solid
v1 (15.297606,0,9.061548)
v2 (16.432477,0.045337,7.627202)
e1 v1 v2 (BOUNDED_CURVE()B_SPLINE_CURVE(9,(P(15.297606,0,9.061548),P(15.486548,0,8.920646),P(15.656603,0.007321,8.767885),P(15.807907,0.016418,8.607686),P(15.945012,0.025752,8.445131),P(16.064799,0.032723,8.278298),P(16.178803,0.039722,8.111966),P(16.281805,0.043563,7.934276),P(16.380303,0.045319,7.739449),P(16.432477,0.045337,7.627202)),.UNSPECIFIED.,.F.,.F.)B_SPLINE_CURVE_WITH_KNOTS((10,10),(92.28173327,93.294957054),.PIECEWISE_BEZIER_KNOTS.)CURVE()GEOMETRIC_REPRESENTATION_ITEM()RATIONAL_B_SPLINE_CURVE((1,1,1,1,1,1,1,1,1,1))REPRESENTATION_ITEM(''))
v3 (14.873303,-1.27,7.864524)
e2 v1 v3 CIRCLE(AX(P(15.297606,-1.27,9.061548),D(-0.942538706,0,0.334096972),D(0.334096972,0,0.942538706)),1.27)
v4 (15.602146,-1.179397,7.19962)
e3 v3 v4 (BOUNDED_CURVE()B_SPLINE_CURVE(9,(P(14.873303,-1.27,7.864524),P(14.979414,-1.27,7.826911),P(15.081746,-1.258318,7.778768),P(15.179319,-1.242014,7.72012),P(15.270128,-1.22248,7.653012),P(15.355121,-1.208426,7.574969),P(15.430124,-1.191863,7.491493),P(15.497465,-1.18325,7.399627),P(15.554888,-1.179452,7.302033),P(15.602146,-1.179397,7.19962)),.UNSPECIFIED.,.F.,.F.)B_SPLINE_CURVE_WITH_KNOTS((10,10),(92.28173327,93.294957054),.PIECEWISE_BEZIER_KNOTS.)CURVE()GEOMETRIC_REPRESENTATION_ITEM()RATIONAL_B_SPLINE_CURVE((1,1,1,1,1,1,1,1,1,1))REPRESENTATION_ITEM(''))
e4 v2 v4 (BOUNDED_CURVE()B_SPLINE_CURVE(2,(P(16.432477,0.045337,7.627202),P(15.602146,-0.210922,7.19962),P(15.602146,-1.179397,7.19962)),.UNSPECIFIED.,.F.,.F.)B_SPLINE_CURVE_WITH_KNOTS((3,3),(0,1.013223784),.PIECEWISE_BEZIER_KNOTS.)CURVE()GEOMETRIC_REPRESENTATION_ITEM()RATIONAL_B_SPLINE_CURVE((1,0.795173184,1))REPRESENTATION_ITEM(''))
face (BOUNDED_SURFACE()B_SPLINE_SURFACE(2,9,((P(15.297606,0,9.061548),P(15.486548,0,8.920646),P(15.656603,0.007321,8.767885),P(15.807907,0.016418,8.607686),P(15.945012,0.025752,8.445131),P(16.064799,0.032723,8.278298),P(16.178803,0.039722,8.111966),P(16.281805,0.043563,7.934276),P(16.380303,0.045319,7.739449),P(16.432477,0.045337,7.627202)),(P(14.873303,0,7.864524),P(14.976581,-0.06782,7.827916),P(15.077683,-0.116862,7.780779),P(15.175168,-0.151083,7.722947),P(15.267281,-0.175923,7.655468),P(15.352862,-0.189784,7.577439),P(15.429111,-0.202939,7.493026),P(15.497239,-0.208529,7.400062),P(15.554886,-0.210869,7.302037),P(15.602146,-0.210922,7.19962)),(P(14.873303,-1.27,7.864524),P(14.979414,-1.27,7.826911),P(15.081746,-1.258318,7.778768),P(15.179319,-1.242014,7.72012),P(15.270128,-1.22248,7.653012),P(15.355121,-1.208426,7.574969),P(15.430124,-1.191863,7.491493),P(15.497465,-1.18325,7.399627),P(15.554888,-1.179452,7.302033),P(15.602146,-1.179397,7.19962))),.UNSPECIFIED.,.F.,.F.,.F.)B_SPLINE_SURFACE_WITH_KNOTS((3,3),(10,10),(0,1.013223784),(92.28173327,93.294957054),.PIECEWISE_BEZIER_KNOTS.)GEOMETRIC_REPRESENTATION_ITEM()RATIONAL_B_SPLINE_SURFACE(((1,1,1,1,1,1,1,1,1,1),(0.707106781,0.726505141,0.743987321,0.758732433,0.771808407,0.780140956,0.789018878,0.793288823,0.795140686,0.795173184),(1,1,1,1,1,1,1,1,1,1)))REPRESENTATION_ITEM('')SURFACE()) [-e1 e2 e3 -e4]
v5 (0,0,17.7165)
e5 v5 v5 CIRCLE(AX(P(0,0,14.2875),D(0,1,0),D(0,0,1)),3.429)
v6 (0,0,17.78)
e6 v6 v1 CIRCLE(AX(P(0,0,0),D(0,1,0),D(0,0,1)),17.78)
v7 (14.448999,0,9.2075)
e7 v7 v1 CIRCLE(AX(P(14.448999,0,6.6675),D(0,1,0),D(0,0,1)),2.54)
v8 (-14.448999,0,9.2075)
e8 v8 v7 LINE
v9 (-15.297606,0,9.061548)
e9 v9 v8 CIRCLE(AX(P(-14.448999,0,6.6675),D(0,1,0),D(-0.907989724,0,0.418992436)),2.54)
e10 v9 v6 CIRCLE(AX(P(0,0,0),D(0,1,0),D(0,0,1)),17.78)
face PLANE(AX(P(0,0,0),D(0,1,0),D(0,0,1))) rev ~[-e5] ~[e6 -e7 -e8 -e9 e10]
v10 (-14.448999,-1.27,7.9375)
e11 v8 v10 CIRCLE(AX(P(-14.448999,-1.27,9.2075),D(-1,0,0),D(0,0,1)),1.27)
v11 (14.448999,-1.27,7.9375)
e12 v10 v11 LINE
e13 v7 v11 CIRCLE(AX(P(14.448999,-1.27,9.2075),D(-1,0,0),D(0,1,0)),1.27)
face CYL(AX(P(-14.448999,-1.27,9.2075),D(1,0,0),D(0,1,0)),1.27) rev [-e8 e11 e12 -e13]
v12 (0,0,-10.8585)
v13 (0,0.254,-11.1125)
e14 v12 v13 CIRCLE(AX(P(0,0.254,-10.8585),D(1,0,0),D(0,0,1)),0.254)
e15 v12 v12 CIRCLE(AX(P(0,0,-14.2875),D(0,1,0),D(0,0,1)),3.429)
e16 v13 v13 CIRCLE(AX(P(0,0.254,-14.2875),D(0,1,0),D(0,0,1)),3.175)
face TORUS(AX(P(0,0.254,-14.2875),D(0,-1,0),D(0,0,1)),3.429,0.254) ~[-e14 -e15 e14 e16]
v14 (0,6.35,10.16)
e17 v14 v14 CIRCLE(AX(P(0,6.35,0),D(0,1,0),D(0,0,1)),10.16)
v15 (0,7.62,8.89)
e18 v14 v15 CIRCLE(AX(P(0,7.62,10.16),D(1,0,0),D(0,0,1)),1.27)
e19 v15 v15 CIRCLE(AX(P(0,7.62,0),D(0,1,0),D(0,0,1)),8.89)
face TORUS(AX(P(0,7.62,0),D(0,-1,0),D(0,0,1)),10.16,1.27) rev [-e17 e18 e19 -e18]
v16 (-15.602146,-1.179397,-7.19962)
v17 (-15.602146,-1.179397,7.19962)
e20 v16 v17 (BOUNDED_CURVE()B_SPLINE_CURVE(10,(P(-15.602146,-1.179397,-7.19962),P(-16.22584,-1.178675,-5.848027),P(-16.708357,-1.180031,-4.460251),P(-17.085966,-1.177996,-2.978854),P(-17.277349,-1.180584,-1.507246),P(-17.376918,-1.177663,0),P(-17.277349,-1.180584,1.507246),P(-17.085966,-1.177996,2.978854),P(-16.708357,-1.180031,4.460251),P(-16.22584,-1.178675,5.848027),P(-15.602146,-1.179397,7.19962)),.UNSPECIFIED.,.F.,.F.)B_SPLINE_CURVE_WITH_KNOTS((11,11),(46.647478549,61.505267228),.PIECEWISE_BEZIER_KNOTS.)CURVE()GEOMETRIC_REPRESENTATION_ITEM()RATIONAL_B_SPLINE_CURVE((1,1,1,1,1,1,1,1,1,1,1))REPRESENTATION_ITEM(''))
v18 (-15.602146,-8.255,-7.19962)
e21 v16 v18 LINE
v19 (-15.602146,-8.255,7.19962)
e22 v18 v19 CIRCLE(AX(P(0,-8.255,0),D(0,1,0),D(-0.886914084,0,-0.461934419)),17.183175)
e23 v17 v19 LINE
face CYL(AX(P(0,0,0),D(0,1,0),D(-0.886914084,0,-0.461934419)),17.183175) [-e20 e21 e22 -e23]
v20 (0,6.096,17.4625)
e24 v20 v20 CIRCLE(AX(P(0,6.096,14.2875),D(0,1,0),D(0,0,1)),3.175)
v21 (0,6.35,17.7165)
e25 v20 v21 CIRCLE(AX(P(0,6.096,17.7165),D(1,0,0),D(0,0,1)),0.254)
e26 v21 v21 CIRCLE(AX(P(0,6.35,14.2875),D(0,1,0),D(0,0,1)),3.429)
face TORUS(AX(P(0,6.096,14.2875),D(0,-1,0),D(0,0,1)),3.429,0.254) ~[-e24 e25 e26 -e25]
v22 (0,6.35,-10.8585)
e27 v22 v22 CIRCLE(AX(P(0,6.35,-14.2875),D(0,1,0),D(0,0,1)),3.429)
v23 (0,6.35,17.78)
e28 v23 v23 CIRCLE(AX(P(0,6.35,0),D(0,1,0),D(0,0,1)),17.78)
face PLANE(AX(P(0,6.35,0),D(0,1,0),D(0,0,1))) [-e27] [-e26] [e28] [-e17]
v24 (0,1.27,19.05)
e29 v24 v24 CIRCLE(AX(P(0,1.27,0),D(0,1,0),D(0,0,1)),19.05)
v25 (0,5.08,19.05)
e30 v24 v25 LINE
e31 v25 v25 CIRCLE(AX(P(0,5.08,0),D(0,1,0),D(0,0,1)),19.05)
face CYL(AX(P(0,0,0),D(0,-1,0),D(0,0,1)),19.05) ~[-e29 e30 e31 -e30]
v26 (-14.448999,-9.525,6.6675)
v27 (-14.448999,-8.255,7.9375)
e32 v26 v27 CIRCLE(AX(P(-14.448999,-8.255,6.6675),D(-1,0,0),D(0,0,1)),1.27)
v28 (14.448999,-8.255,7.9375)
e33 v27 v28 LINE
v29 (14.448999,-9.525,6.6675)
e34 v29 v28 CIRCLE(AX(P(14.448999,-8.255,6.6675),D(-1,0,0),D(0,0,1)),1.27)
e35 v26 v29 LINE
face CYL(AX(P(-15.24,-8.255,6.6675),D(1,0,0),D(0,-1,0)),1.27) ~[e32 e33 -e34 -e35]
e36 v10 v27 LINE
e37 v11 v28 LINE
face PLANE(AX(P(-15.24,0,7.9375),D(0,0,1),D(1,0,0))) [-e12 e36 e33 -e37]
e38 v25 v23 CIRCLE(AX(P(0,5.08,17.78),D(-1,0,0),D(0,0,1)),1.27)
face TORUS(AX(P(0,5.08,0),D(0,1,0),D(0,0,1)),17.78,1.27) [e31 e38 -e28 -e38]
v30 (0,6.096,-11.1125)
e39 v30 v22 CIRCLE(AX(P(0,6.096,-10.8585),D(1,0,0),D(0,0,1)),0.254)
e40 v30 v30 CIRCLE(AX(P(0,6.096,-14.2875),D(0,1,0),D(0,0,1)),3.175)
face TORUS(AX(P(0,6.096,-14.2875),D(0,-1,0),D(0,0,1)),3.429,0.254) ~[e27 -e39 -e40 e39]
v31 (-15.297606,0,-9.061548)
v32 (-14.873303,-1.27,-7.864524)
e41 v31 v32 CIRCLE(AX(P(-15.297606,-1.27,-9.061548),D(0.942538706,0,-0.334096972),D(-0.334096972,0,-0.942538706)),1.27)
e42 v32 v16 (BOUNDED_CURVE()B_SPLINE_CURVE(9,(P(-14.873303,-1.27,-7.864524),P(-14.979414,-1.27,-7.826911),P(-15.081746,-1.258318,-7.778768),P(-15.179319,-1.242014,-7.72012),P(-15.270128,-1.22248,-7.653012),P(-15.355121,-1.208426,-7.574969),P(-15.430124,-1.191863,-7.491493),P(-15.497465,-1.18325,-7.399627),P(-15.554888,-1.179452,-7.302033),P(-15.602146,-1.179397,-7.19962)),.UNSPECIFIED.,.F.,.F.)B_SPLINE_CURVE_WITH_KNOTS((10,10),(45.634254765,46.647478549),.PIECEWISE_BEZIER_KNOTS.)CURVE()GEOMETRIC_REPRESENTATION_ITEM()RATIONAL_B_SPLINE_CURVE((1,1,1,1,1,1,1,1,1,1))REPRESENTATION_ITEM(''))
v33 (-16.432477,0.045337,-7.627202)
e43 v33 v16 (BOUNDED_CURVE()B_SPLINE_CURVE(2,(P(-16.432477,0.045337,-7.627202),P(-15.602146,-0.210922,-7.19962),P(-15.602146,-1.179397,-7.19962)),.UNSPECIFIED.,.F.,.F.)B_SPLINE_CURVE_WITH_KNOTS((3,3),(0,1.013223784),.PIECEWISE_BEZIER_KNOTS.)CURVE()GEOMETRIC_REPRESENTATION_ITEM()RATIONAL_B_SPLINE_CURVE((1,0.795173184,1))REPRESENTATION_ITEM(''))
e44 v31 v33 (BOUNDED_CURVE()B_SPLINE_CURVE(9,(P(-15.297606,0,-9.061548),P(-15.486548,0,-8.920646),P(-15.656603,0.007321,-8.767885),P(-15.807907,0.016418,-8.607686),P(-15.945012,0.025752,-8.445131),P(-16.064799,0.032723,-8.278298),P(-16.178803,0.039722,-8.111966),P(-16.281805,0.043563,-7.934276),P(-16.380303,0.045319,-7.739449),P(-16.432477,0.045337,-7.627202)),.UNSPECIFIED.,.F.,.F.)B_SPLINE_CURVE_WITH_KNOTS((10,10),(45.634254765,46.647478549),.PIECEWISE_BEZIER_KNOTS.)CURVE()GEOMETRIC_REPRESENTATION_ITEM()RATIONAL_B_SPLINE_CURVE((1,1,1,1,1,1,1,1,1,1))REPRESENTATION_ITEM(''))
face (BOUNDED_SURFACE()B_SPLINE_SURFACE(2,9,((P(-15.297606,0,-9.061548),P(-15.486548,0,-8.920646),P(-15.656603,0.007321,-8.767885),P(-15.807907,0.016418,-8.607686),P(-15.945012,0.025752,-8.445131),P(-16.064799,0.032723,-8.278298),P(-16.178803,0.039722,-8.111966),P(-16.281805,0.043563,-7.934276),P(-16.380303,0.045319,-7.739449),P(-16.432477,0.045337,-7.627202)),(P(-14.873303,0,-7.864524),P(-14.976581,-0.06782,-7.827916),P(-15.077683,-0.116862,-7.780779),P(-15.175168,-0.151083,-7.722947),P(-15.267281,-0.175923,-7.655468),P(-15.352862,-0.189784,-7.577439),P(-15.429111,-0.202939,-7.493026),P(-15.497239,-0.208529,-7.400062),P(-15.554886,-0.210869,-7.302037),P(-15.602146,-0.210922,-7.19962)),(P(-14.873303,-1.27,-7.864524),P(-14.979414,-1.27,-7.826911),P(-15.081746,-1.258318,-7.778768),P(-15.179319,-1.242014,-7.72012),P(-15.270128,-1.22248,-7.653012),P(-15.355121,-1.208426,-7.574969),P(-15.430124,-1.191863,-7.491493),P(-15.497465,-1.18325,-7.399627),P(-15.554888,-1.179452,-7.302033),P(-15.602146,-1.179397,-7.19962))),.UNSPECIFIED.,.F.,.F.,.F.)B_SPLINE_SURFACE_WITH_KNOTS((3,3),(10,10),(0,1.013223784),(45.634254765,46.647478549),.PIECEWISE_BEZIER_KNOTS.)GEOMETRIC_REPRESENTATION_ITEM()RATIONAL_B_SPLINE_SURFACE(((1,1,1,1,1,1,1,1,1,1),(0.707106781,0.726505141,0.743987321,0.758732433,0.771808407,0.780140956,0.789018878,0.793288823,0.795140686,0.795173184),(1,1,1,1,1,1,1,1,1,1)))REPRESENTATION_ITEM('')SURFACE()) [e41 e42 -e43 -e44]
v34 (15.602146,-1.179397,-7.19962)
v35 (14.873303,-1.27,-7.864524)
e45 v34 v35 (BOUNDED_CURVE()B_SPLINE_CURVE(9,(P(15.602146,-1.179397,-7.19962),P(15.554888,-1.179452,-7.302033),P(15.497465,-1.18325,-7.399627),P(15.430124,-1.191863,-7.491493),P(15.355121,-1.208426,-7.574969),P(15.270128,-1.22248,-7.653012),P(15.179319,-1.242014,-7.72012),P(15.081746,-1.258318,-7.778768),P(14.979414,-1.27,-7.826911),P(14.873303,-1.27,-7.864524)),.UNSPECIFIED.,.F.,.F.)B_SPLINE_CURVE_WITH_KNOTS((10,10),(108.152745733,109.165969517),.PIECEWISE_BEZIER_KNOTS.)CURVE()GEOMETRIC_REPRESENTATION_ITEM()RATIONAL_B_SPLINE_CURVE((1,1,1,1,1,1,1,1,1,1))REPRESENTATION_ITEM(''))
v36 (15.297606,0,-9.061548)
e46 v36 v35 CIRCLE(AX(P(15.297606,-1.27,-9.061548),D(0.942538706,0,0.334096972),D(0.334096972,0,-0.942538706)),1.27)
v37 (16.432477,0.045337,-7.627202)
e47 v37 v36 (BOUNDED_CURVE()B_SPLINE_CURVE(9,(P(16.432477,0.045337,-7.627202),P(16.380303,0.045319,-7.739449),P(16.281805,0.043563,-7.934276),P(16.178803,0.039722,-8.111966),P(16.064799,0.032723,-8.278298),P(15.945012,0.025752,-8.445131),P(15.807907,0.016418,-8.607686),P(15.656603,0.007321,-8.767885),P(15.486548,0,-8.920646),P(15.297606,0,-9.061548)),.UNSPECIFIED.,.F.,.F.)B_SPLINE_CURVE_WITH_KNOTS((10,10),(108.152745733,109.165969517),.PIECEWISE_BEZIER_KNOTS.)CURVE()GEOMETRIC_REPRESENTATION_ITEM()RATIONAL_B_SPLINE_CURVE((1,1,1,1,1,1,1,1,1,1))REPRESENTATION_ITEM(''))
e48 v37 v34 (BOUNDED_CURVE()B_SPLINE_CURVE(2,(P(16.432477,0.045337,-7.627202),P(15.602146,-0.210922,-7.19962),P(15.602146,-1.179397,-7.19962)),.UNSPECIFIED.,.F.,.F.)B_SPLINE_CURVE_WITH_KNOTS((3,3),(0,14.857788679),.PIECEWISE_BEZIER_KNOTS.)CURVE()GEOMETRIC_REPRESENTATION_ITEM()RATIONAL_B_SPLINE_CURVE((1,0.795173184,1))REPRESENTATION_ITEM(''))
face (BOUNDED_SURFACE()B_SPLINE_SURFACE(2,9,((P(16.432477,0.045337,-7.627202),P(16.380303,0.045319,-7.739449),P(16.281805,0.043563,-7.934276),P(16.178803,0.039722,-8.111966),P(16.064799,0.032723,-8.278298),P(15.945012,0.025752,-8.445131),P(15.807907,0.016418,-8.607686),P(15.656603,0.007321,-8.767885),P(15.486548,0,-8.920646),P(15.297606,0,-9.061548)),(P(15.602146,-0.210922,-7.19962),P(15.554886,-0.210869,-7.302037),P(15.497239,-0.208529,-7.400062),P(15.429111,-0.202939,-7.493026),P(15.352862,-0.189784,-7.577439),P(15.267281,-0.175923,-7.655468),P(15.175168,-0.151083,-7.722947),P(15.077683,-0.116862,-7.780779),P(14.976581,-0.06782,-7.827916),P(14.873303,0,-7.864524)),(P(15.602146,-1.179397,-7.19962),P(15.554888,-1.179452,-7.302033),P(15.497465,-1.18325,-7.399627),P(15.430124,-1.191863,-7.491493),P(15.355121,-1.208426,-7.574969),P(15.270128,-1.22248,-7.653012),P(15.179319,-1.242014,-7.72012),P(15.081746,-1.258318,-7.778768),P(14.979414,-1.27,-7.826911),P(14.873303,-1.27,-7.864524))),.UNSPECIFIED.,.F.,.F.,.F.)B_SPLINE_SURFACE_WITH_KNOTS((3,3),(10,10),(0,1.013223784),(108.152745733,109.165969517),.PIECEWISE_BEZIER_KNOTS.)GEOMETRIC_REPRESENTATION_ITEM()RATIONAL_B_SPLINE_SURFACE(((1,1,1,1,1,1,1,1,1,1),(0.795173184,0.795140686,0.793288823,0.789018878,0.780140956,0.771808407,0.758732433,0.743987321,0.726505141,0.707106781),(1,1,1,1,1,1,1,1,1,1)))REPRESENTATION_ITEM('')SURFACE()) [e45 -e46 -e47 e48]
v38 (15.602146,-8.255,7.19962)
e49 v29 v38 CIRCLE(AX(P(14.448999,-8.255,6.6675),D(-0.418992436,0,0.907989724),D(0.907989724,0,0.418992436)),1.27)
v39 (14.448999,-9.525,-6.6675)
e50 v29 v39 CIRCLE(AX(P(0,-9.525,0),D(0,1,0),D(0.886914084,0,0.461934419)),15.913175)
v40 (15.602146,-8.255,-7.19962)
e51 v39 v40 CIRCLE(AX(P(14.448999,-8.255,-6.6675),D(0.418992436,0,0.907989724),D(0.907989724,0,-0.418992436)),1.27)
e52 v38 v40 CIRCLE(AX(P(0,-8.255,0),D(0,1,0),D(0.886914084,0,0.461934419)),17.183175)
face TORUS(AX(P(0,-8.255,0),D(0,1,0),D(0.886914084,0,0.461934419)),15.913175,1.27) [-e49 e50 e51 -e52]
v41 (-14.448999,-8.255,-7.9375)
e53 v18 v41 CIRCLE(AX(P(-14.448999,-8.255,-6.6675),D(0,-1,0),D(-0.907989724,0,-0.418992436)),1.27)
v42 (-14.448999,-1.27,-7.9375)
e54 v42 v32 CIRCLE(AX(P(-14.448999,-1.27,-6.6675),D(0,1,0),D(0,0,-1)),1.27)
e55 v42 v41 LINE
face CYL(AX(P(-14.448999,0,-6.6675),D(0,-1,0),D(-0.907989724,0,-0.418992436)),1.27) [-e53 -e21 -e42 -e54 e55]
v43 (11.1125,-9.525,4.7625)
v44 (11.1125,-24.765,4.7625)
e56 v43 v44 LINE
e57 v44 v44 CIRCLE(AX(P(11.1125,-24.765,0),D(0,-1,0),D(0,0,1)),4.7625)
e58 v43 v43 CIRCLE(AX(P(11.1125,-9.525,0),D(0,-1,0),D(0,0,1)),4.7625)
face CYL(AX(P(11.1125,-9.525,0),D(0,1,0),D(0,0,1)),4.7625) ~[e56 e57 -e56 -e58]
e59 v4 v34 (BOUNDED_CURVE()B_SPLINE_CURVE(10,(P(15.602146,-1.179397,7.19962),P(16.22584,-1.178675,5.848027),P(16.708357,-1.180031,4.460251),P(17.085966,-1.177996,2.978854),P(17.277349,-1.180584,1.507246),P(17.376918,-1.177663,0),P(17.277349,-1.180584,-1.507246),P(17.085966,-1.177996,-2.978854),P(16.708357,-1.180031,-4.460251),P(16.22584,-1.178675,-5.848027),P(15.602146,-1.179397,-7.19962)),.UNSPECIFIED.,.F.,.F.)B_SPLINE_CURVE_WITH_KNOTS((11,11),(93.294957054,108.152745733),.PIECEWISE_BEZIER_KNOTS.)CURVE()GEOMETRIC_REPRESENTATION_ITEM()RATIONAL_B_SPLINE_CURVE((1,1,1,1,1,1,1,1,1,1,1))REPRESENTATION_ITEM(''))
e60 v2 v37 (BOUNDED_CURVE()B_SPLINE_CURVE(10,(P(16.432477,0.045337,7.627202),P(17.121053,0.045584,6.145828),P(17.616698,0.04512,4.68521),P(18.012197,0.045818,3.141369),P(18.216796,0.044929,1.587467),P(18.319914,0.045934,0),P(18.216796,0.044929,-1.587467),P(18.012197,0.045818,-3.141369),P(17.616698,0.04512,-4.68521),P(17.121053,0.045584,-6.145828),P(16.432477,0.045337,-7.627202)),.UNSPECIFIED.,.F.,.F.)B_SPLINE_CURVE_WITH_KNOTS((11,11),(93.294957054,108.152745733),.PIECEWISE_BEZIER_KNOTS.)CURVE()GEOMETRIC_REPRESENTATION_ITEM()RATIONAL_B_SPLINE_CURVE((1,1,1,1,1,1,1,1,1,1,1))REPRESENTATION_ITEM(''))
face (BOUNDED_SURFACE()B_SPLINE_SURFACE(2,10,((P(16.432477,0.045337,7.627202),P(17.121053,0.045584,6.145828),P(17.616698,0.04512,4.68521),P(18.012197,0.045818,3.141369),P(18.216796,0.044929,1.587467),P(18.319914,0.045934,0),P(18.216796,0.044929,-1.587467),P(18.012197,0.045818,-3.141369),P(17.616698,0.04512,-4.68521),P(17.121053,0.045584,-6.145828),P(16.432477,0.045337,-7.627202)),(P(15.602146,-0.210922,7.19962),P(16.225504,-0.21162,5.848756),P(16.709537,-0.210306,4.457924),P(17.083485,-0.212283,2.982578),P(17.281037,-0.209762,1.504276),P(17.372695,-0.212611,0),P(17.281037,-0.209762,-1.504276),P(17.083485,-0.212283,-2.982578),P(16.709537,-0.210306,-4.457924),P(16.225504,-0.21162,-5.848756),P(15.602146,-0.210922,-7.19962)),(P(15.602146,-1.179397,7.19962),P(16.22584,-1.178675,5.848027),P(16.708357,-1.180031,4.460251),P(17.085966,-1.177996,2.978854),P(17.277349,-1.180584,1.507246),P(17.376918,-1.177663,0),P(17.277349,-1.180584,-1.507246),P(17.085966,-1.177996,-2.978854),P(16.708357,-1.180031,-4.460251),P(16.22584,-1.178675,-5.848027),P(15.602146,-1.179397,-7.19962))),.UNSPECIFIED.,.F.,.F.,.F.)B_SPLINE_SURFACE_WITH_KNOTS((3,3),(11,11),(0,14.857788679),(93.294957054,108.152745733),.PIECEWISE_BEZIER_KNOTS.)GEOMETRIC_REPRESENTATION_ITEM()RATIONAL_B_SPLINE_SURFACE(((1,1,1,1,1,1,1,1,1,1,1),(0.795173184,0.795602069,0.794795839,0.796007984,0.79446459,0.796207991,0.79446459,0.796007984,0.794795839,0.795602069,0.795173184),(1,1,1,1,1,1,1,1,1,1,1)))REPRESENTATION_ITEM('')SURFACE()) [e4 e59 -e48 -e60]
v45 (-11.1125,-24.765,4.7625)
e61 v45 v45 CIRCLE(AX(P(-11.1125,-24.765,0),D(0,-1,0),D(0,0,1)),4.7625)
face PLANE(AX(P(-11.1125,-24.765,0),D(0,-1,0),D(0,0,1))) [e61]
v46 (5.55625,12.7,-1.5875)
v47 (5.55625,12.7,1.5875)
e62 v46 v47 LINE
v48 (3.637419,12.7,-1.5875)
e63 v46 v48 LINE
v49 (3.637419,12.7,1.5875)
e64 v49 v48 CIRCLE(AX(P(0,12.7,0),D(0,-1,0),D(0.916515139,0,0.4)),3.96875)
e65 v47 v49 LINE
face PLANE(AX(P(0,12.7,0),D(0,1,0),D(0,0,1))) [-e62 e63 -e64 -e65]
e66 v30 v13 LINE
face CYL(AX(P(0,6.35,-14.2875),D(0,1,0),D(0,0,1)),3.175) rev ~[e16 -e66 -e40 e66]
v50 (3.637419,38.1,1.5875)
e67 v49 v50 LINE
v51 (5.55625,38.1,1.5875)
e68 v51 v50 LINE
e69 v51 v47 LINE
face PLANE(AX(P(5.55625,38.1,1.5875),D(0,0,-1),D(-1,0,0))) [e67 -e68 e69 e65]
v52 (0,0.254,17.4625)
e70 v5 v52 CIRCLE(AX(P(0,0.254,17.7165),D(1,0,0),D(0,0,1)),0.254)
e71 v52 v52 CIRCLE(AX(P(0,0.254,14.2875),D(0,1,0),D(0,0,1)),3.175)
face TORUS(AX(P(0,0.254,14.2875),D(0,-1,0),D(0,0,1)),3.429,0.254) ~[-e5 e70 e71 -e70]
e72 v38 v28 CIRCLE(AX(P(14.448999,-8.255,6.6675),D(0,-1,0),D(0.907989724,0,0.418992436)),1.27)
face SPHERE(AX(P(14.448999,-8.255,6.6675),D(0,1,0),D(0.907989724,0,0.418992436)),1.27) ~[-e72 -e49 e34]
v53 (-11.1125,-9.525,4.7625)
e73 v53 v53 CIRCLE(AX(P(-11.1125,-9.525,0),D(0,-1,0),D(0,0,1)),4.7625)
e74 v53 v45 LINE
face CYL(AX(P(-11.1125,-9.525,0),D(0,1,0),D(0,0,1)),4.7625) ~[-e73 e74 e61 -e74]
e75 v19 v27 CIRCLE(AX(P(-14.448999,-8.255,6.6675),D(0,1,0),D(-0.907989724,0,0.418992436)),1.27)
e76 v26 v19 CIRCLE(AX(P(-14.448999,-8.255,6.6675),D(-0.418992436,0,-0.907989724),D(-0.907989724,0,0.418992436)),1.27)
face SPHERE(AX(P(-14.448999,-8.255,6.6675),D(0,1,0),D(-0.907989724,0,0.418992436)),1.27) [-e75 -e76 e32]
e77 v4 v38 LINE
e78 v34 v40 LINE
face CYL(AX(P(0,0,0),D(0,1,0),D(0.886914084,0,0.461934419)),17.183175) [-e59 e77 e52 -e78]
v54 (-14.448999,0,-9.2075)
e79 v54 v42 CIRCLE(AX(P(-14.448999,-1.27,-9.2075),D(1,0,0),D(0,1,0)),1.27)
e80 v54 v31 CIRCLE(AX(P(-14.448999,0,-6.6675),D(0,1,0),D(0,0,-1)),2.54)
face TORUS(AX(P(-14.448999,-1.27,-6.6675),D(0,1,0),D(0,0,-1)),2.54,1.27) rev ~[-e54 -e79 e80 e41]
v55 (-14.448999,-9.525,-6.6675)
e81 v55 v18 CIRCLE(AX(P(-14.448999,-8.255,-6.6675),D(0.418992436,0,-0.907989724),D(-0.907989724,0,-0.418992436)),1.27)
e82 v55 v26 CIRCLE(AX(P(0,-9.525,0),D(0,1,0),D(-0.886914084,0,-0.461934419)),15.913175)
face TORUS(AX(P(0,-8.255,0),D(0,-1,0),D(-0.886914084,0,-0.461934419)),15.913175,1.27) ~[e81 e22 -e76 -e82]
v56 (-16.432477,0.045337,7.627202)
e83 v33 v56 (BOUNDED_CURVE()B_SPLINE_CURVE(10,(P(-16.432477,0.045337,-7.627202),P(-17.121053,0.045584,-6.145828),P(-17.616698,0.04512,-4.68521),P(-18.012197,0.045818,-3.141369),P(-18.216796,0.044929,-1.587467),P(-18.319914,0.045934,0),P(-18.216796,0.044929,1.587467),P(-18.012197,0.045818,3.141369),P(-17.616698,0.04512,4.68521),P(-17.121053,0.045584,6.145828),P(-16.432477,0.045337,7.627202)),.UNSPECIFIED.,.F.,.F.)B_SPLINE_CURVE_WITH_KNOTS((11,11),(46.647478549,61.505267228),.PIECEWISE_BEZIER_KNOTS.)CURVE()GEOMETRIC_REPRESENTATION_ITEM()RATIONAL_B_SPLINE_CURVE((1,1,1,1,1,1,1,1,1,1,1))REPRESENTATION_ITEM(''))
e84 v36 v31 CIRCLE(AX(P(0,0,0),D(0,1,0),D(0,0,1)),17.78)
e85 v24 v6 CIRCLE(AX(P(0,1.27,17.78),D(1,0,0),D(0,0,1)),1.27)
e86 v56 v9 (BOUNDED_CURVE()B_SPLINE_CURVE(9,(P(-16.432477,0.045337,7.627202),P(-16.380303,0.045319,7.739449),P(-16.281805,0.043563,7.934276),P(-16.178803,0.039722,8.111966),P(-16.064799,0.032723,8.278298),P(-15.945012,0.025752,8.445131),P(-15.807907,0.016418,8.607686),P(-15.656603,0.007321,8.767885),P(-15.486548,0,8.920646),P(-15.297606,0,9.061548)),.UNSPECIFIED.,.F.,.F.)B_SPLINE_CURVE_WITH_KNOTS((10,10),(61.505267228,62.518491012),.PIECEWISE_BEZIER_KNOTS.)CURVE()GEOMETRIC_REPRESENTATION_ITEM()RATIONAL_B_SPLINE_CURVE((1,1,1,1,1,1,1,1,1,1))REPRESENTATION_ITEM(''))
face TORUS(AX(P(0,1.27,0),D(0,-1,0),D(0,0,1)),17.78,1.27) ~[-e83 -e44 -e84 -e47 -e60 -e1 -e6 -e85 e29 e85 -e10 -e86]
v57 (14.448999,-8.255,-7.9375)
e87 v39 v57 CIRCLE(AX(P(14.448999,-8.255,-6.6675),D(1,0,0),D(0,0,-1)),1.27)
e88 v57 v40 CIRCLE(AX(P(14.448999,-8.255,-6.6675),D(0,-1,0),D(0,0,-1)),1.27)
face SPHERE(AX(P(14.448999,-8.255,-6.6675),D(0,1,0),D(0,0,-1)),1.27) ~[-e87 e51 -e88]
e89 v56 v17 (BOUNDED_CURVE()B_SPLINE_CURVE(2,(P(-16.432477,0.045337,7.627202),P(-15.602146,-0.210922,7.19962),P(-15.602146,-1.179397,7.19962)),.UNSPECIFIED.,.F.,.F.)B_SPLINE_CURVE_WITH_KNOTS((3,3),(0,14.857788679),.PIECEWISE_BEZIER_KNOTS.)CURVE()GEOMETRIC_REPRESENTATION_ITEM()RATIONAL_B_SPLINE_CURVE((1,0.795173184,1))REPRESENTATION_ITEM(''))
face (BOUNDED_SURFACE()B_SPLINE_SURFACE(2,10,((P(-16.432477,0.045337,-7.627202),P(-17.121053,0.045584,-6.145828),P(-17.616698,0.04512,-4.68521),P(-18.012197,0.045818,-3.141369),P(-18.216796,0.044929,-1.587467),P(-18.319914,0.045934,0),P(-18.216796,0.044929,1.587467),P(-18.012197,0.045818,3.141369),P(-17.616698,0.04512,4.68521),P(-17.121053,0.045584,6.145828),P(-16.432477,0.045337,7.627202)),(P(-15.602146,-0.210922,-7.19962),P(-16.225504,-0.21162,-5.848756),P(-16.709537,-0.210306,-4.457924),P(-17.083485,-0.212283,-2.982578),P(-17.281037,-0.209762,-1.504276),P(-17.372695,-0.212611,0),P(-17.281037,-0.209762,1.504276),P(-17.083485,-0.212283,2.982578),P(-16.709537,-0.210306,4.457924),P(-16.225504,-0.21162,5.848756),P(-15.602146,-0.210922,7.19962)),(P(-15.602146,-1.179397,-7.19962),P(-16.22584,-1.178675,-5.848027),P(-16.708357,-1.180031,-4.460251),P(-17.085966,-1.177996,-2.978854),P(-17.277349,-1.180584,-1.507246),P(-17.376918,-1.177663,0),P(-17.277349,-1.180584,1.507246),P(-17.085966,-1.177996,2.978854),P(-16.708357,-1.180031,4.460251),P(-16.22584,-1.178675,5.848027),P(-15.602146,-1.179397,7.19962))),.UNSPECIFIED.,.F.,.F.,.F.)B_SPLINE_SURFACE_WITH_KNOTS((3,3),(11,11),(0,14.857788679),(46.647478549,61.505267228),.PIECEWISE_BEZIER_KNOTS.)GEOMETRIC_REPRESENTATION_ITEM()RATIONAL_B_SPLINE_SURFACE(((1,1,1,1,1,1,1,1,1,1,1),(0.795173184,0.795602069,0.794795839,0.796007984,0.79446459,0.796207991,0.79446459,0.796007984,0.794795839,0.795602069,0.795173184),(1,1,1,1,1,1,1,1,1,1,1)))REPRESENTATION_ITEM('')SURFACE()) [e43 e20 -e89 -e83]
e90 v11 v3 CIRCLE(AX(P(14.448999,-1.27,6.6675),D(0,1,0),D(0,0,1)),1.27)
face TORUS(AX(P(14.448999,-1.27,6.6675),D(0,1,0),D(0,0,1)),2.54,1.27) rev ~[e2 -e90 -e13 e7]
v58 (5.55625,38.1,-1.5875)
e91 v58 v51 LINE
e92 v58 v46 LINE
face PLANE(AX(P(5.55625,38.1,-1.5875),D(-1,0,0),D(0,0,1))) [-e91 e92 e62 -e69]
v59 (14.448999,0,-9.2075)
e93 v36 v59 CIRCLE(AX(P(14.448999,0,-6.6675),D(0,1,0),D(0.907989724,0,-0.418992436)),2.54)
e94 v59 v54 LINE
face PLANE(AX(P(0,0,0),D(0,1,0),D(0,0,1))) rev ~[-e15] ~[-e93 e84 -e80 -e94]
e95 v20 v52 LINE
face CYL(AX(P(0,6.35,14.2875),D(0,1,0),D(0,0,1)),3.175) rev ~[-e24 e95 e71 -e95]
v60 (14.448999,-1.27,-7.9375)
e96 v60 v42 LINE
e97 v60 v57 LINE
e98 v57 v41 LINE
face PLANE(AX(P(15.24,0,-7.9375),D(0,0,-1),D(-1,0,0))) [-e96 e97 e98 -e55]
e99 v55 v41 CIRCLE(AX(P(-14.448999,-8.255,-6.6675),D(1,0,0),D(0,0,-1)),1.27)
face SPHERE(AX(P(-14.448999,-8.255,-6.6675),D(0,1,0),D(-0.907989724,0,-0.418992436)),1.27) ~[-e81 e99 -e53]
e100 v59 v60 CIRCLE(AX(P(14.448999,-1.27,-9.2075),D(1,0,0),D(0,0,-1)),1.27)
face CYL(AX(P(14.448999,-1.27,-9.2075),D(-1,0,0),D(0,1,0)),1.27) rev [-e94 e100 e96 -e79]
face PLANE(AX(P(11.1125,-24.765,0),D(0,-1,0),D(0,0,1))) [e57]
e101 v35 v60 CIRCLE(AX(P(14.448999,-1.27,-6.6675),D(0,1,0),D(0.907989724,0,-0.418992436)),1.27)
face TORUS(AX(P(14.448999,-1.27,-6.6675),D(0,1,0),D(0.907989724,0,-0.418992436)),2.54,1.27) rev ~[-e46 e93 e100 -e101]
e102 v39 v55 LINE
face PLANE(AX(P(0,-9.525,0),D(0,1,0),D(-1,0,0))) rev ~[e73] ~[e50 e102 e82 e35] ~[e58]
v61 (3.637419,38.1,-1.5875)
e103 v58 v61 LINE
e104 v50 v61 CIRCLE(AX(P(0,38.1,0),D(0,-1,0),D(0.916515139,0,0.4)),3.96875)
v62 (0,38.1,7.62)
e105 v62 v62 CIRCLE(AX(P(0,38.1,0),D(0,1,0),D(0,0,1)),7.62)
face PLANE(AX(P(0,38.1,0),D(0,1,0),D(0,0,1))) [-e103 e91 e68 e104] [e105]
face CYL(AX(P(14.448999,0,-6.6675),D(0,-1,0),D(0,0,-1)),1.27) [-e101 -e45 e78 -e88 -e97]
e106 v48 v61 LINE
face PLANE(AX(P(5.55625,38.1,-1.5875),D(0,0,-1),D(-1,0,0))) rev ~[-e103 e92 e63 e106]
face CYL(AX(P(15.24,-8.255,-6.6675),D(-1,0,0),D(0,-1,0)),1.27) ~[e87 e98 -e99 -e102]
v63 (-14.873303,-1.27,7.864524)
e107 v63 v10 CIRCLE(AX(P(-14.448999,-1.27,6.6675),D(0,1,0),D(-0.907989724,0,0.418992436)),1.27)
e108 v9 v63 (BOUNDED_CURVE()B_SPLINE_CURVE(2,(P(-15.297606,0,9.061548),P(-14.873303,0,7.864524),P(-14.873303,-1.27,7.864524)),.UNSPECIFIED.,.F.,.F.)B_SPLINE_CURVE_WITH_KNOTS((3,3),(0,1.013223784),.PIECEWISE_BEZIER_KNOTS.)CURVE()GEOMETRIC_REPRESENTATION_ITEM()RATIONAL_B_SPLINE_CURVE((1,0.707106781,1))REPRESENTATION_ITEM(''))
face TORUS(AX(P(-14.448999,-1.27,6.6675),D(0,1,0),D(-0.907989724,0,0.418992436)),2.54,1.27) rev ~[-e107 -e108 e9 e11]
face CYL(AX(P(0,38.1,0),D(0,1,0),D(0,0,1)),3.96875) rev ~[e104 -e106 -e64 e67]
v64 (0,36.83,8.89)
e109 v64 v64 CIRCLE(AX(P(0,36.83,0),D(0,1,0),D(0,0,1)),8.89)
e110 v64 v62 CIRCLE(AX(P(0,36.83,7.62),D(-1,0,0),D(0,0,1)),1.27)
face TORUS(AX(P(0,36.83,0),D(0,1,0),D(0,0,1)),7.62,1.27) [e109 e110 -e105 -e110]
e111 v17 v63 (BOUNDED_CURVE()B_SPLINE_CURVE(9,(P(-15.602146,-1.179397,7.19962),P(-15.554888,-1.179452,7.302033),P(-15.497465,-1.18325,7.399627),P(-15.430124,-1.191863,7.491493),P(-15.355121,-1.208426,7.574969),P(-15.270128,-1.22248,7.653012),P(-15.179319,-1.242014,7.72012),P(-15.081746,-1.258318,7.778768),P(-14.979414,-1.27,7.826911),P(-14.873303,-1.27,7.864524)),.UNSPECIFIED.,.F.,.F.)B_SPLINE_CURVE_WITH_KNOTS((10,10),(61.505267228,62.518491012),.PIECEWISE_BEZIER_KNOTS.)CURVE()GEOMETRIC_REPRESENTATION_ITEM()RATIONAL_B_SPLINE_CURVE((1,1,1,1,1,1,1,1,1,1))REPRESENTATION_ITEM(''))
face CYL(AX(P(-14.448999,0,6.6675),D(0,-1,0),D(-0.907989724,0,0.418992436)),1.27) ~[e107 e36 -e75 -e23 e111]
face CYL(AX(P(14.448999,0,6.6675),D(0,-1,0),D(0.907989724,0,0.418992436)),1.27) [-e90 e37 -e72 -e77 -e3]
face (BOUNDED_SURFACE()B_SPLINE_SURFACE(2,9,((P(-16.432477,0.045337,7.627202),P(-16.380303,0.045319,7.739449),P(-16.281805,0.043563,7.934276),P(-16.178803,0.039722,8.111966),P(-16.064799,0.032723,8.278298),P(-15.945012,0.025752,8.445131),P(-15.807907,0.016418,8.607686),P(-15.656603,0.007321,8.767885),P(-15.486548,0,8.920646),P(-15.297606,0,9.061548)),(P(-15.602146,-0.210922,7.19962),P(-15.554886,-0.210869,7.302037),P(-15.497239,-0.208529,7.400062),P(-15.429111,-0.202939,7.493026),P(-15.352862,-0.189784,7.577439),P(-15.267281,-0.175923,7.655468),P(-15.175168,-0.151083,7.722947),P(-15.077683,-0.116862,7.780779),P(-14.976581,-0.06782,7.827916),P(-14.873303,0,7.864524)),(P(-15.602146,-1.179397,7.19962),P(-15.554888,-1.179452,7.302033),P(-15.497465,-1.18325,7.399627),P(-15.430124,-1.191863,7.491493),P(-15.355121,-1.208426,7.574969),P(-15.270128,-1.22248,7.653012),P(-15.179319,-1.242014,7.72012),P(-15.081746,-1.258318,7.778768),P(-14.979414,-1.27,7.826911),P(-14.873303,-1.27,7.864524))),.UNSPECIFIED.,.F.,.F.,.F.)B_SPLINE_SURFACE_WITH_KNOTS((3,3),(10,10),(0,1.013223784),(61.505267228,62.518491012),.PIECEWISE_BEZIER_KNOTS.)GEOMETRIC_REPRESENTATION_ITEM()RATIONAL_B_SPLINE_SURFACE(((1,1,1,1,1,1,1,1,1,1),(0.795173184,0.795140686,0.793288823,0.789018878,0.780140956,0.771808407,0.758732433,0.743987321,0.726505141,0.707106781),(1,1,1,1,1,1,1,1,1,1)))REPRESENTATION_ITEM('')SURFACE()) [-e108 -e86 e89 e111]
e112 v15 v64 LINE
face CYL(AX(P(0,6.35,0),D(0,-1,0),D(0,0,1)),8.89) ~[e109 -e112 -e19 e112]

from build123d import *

# Parameters (mm, degrees)
SKETCH1_R          = 19.05
EXTRUDE1_DEPTH     = 6.35
EXTRUDE2_DEPTH     = 9.525
SKETCH3_R          = 8.89
EXTRUDE3_DEPTH     = 31.75
SKETCH4_R          = 3.96875
CUT_EXTRUDE1_DEPTH = 25.4
SKETCH5_R          = 4.7625
EXTRUDE4_DEPTH     = 15.24
SKETCH6_W          = 3.175
SKETCH6_H          = 3.175
CUT_EXTRUDE2_DEPTH = 25.4
FILLET1_R          = 1.27
FILLET2_R          = 1.27
SKETCH7_R          = 3.175
CUT_EXTRUDE3_DEPTH = 32.115
FILLET3_R          = 0.254


with BuildPart() as part:
    # Sketch1 → Extrude1 (new body)
    with BuildSketch(Plane(origin=(0, 0, 0), x_dir=(1, 0, 0), z_dir=(0, 1, 0))):
        with Locations(Location((0, 0, 0), (0, 0, 270))):  # turned: the seam where the file's is
            Circle(SKETCH1_R)
    extrude(amount=EXTRUDE1_DEPTH)

    # Sketch2 → Extrude2 (add)
    with BuildSketch(Plane.XZ):
        with BuildLine():
            Line((-15.24, 7.9375), (15.24, 7.9375))
            ThreePointArc((15.24, 7.9375), (17.183175092, 0), (15.24, -7.9375))
            Line((15.24, -7.9375), (-15.24, -7.9375))
            ThreePointArc((-15.24, -7.9375), (-17.183175092, 0), (-15.24, 7.9375))
        make_face()
    extrude(amount=EXTRUDE2_DEPTH)

    # Sketch3 → Extrude3 (add)
    with BuildSketch(Plane(origin=(0, 6.35, 0), x_dir=(-1, 0, 0), z_dir=(0, 1, 0))):
        with Locations(Location((0, 0, 0), (0, 0, 90))):  # turned: the seam where the file's is
            Circle(SKETCH3_R)
    extrude(amount=EXTRUDE3_DEPTH)

    # Sketch4 → Cut-Extrude1 (cut)
    with BuildSketch(Plane(origin=(0, 38.1, 0), x_dir=(-1, 0, 0), z_dir=(0, 1, 0))):
        with Locations(Location((0, 0, 0), (0, 0, 90))):  # turned: the seam where the file's is
            Circle(SKETCH4_R)
    extrude(amount=-CUT_EXTRUDE1_DEPTH, mode=Mode.SUBTRACT)

    # Sketch5 → Extrude4 (add)
    with BuildSketch(Plane.XZ.offset(9.525)):
        with Locations(Location((11.1125, 0, 0), (0, 0, 90))):  # turned: the seam where the file's is
            Circle(SKETCH5_R)
        with Locations(Location((-11.1125, 0, 0), (0, 0, 90))):  # turned: the seam where the file's is
            Circle(SKETCH5_R)
    extrude(amount=EXTRUDE4_DEPTH)

    # Sketch6 → Cut-Extrude2 (cut)
    with BuildSketch(Plane(origin=(0, 38.1, 0), x_dir=(-1, 0, 0), z_dir=(0, 1, 0))):
        with Locations((-3.96875, 0)):
            Rectangle(SKETCH6_W, SKETCH6_H)
    extrude(amount=-CUT_EXTRUDE2_DEPTH, mode=Mode.SUBTRACT)

    # Fillet1
    fillet1_edges = [part.edges().sort_by_distance(p)[0] for p in [
        (0, 0, -19.05),
        (0, 6.35, -8.89),
        (0, 38.1, -8.89),
        (0, 6.35, -19.05),
        (-15.24, -4.7625, 7.9375),
        (-15.24, -4.7625, -7.9375),
        (15.24, -4.7625, -7.9375),
        (15.24, -4.7625, 7.9375),
        (-17.183175092, -9.525, 0),
        (0, -9.525, -7.9375),
        (17.183175092, -9.525, 0),
        (0, -9.525, 7.9375),
    ]]
    fillet(fillet1_edges, radius=FILLET1_R)

    # Fillet2
    fillet2_edges = [part.edges().sort_by_distance(p)[0] for p in [
        (17.183175092, 0, 0),
        (0, 0, 7.9375),
        (-17.183175092, 0, 0),
        (0, 0, -7.9375),
        (-15.13350917, 0, -7.737241301),
        (15.13350917, 0, -7.737241301),
        (15.13350917, 0, 7.737241301),
        (-15.13350917, 0, 7.737241301),
    ]]
    fillet(fillet2_edges, radius=FILLET2_R)

    # Sketch7 → Cut-Extrude3 (cut, through all)
    with BuildSketch(Plane(origin=(0, 6.35, 0), x_dir=(-1, 0, 0), z_dir=(0, 1, 0))):
        with Locations(Location((0, 14.2875, 0), (0, 0, 90))):  # turned: the seam where the file's is
            Circle(SKETCH7_R)
        with Locations(Location((0, -14.2875, 0), (0, 0, 90))):  # turned: the seam where the file's is
            Circle(SKETCH7_R)
    extrude(amount=-CUT_EXTRUDE3_DEPTH, mode=Mode.SUBTRACT)

    # Fillet3
    fillet3_edges = [part.edges().sort_by_distance(p)[0] for p in [
        (0, 0, 11.1125),
        (0, 6.35, 11.1125),
        (0, 0, -17.4625),
        (0, 6.35, -17.4625),
    ]]
    fillet(fillet3_edges, radius=FILLET3_R)


solid = part.part
